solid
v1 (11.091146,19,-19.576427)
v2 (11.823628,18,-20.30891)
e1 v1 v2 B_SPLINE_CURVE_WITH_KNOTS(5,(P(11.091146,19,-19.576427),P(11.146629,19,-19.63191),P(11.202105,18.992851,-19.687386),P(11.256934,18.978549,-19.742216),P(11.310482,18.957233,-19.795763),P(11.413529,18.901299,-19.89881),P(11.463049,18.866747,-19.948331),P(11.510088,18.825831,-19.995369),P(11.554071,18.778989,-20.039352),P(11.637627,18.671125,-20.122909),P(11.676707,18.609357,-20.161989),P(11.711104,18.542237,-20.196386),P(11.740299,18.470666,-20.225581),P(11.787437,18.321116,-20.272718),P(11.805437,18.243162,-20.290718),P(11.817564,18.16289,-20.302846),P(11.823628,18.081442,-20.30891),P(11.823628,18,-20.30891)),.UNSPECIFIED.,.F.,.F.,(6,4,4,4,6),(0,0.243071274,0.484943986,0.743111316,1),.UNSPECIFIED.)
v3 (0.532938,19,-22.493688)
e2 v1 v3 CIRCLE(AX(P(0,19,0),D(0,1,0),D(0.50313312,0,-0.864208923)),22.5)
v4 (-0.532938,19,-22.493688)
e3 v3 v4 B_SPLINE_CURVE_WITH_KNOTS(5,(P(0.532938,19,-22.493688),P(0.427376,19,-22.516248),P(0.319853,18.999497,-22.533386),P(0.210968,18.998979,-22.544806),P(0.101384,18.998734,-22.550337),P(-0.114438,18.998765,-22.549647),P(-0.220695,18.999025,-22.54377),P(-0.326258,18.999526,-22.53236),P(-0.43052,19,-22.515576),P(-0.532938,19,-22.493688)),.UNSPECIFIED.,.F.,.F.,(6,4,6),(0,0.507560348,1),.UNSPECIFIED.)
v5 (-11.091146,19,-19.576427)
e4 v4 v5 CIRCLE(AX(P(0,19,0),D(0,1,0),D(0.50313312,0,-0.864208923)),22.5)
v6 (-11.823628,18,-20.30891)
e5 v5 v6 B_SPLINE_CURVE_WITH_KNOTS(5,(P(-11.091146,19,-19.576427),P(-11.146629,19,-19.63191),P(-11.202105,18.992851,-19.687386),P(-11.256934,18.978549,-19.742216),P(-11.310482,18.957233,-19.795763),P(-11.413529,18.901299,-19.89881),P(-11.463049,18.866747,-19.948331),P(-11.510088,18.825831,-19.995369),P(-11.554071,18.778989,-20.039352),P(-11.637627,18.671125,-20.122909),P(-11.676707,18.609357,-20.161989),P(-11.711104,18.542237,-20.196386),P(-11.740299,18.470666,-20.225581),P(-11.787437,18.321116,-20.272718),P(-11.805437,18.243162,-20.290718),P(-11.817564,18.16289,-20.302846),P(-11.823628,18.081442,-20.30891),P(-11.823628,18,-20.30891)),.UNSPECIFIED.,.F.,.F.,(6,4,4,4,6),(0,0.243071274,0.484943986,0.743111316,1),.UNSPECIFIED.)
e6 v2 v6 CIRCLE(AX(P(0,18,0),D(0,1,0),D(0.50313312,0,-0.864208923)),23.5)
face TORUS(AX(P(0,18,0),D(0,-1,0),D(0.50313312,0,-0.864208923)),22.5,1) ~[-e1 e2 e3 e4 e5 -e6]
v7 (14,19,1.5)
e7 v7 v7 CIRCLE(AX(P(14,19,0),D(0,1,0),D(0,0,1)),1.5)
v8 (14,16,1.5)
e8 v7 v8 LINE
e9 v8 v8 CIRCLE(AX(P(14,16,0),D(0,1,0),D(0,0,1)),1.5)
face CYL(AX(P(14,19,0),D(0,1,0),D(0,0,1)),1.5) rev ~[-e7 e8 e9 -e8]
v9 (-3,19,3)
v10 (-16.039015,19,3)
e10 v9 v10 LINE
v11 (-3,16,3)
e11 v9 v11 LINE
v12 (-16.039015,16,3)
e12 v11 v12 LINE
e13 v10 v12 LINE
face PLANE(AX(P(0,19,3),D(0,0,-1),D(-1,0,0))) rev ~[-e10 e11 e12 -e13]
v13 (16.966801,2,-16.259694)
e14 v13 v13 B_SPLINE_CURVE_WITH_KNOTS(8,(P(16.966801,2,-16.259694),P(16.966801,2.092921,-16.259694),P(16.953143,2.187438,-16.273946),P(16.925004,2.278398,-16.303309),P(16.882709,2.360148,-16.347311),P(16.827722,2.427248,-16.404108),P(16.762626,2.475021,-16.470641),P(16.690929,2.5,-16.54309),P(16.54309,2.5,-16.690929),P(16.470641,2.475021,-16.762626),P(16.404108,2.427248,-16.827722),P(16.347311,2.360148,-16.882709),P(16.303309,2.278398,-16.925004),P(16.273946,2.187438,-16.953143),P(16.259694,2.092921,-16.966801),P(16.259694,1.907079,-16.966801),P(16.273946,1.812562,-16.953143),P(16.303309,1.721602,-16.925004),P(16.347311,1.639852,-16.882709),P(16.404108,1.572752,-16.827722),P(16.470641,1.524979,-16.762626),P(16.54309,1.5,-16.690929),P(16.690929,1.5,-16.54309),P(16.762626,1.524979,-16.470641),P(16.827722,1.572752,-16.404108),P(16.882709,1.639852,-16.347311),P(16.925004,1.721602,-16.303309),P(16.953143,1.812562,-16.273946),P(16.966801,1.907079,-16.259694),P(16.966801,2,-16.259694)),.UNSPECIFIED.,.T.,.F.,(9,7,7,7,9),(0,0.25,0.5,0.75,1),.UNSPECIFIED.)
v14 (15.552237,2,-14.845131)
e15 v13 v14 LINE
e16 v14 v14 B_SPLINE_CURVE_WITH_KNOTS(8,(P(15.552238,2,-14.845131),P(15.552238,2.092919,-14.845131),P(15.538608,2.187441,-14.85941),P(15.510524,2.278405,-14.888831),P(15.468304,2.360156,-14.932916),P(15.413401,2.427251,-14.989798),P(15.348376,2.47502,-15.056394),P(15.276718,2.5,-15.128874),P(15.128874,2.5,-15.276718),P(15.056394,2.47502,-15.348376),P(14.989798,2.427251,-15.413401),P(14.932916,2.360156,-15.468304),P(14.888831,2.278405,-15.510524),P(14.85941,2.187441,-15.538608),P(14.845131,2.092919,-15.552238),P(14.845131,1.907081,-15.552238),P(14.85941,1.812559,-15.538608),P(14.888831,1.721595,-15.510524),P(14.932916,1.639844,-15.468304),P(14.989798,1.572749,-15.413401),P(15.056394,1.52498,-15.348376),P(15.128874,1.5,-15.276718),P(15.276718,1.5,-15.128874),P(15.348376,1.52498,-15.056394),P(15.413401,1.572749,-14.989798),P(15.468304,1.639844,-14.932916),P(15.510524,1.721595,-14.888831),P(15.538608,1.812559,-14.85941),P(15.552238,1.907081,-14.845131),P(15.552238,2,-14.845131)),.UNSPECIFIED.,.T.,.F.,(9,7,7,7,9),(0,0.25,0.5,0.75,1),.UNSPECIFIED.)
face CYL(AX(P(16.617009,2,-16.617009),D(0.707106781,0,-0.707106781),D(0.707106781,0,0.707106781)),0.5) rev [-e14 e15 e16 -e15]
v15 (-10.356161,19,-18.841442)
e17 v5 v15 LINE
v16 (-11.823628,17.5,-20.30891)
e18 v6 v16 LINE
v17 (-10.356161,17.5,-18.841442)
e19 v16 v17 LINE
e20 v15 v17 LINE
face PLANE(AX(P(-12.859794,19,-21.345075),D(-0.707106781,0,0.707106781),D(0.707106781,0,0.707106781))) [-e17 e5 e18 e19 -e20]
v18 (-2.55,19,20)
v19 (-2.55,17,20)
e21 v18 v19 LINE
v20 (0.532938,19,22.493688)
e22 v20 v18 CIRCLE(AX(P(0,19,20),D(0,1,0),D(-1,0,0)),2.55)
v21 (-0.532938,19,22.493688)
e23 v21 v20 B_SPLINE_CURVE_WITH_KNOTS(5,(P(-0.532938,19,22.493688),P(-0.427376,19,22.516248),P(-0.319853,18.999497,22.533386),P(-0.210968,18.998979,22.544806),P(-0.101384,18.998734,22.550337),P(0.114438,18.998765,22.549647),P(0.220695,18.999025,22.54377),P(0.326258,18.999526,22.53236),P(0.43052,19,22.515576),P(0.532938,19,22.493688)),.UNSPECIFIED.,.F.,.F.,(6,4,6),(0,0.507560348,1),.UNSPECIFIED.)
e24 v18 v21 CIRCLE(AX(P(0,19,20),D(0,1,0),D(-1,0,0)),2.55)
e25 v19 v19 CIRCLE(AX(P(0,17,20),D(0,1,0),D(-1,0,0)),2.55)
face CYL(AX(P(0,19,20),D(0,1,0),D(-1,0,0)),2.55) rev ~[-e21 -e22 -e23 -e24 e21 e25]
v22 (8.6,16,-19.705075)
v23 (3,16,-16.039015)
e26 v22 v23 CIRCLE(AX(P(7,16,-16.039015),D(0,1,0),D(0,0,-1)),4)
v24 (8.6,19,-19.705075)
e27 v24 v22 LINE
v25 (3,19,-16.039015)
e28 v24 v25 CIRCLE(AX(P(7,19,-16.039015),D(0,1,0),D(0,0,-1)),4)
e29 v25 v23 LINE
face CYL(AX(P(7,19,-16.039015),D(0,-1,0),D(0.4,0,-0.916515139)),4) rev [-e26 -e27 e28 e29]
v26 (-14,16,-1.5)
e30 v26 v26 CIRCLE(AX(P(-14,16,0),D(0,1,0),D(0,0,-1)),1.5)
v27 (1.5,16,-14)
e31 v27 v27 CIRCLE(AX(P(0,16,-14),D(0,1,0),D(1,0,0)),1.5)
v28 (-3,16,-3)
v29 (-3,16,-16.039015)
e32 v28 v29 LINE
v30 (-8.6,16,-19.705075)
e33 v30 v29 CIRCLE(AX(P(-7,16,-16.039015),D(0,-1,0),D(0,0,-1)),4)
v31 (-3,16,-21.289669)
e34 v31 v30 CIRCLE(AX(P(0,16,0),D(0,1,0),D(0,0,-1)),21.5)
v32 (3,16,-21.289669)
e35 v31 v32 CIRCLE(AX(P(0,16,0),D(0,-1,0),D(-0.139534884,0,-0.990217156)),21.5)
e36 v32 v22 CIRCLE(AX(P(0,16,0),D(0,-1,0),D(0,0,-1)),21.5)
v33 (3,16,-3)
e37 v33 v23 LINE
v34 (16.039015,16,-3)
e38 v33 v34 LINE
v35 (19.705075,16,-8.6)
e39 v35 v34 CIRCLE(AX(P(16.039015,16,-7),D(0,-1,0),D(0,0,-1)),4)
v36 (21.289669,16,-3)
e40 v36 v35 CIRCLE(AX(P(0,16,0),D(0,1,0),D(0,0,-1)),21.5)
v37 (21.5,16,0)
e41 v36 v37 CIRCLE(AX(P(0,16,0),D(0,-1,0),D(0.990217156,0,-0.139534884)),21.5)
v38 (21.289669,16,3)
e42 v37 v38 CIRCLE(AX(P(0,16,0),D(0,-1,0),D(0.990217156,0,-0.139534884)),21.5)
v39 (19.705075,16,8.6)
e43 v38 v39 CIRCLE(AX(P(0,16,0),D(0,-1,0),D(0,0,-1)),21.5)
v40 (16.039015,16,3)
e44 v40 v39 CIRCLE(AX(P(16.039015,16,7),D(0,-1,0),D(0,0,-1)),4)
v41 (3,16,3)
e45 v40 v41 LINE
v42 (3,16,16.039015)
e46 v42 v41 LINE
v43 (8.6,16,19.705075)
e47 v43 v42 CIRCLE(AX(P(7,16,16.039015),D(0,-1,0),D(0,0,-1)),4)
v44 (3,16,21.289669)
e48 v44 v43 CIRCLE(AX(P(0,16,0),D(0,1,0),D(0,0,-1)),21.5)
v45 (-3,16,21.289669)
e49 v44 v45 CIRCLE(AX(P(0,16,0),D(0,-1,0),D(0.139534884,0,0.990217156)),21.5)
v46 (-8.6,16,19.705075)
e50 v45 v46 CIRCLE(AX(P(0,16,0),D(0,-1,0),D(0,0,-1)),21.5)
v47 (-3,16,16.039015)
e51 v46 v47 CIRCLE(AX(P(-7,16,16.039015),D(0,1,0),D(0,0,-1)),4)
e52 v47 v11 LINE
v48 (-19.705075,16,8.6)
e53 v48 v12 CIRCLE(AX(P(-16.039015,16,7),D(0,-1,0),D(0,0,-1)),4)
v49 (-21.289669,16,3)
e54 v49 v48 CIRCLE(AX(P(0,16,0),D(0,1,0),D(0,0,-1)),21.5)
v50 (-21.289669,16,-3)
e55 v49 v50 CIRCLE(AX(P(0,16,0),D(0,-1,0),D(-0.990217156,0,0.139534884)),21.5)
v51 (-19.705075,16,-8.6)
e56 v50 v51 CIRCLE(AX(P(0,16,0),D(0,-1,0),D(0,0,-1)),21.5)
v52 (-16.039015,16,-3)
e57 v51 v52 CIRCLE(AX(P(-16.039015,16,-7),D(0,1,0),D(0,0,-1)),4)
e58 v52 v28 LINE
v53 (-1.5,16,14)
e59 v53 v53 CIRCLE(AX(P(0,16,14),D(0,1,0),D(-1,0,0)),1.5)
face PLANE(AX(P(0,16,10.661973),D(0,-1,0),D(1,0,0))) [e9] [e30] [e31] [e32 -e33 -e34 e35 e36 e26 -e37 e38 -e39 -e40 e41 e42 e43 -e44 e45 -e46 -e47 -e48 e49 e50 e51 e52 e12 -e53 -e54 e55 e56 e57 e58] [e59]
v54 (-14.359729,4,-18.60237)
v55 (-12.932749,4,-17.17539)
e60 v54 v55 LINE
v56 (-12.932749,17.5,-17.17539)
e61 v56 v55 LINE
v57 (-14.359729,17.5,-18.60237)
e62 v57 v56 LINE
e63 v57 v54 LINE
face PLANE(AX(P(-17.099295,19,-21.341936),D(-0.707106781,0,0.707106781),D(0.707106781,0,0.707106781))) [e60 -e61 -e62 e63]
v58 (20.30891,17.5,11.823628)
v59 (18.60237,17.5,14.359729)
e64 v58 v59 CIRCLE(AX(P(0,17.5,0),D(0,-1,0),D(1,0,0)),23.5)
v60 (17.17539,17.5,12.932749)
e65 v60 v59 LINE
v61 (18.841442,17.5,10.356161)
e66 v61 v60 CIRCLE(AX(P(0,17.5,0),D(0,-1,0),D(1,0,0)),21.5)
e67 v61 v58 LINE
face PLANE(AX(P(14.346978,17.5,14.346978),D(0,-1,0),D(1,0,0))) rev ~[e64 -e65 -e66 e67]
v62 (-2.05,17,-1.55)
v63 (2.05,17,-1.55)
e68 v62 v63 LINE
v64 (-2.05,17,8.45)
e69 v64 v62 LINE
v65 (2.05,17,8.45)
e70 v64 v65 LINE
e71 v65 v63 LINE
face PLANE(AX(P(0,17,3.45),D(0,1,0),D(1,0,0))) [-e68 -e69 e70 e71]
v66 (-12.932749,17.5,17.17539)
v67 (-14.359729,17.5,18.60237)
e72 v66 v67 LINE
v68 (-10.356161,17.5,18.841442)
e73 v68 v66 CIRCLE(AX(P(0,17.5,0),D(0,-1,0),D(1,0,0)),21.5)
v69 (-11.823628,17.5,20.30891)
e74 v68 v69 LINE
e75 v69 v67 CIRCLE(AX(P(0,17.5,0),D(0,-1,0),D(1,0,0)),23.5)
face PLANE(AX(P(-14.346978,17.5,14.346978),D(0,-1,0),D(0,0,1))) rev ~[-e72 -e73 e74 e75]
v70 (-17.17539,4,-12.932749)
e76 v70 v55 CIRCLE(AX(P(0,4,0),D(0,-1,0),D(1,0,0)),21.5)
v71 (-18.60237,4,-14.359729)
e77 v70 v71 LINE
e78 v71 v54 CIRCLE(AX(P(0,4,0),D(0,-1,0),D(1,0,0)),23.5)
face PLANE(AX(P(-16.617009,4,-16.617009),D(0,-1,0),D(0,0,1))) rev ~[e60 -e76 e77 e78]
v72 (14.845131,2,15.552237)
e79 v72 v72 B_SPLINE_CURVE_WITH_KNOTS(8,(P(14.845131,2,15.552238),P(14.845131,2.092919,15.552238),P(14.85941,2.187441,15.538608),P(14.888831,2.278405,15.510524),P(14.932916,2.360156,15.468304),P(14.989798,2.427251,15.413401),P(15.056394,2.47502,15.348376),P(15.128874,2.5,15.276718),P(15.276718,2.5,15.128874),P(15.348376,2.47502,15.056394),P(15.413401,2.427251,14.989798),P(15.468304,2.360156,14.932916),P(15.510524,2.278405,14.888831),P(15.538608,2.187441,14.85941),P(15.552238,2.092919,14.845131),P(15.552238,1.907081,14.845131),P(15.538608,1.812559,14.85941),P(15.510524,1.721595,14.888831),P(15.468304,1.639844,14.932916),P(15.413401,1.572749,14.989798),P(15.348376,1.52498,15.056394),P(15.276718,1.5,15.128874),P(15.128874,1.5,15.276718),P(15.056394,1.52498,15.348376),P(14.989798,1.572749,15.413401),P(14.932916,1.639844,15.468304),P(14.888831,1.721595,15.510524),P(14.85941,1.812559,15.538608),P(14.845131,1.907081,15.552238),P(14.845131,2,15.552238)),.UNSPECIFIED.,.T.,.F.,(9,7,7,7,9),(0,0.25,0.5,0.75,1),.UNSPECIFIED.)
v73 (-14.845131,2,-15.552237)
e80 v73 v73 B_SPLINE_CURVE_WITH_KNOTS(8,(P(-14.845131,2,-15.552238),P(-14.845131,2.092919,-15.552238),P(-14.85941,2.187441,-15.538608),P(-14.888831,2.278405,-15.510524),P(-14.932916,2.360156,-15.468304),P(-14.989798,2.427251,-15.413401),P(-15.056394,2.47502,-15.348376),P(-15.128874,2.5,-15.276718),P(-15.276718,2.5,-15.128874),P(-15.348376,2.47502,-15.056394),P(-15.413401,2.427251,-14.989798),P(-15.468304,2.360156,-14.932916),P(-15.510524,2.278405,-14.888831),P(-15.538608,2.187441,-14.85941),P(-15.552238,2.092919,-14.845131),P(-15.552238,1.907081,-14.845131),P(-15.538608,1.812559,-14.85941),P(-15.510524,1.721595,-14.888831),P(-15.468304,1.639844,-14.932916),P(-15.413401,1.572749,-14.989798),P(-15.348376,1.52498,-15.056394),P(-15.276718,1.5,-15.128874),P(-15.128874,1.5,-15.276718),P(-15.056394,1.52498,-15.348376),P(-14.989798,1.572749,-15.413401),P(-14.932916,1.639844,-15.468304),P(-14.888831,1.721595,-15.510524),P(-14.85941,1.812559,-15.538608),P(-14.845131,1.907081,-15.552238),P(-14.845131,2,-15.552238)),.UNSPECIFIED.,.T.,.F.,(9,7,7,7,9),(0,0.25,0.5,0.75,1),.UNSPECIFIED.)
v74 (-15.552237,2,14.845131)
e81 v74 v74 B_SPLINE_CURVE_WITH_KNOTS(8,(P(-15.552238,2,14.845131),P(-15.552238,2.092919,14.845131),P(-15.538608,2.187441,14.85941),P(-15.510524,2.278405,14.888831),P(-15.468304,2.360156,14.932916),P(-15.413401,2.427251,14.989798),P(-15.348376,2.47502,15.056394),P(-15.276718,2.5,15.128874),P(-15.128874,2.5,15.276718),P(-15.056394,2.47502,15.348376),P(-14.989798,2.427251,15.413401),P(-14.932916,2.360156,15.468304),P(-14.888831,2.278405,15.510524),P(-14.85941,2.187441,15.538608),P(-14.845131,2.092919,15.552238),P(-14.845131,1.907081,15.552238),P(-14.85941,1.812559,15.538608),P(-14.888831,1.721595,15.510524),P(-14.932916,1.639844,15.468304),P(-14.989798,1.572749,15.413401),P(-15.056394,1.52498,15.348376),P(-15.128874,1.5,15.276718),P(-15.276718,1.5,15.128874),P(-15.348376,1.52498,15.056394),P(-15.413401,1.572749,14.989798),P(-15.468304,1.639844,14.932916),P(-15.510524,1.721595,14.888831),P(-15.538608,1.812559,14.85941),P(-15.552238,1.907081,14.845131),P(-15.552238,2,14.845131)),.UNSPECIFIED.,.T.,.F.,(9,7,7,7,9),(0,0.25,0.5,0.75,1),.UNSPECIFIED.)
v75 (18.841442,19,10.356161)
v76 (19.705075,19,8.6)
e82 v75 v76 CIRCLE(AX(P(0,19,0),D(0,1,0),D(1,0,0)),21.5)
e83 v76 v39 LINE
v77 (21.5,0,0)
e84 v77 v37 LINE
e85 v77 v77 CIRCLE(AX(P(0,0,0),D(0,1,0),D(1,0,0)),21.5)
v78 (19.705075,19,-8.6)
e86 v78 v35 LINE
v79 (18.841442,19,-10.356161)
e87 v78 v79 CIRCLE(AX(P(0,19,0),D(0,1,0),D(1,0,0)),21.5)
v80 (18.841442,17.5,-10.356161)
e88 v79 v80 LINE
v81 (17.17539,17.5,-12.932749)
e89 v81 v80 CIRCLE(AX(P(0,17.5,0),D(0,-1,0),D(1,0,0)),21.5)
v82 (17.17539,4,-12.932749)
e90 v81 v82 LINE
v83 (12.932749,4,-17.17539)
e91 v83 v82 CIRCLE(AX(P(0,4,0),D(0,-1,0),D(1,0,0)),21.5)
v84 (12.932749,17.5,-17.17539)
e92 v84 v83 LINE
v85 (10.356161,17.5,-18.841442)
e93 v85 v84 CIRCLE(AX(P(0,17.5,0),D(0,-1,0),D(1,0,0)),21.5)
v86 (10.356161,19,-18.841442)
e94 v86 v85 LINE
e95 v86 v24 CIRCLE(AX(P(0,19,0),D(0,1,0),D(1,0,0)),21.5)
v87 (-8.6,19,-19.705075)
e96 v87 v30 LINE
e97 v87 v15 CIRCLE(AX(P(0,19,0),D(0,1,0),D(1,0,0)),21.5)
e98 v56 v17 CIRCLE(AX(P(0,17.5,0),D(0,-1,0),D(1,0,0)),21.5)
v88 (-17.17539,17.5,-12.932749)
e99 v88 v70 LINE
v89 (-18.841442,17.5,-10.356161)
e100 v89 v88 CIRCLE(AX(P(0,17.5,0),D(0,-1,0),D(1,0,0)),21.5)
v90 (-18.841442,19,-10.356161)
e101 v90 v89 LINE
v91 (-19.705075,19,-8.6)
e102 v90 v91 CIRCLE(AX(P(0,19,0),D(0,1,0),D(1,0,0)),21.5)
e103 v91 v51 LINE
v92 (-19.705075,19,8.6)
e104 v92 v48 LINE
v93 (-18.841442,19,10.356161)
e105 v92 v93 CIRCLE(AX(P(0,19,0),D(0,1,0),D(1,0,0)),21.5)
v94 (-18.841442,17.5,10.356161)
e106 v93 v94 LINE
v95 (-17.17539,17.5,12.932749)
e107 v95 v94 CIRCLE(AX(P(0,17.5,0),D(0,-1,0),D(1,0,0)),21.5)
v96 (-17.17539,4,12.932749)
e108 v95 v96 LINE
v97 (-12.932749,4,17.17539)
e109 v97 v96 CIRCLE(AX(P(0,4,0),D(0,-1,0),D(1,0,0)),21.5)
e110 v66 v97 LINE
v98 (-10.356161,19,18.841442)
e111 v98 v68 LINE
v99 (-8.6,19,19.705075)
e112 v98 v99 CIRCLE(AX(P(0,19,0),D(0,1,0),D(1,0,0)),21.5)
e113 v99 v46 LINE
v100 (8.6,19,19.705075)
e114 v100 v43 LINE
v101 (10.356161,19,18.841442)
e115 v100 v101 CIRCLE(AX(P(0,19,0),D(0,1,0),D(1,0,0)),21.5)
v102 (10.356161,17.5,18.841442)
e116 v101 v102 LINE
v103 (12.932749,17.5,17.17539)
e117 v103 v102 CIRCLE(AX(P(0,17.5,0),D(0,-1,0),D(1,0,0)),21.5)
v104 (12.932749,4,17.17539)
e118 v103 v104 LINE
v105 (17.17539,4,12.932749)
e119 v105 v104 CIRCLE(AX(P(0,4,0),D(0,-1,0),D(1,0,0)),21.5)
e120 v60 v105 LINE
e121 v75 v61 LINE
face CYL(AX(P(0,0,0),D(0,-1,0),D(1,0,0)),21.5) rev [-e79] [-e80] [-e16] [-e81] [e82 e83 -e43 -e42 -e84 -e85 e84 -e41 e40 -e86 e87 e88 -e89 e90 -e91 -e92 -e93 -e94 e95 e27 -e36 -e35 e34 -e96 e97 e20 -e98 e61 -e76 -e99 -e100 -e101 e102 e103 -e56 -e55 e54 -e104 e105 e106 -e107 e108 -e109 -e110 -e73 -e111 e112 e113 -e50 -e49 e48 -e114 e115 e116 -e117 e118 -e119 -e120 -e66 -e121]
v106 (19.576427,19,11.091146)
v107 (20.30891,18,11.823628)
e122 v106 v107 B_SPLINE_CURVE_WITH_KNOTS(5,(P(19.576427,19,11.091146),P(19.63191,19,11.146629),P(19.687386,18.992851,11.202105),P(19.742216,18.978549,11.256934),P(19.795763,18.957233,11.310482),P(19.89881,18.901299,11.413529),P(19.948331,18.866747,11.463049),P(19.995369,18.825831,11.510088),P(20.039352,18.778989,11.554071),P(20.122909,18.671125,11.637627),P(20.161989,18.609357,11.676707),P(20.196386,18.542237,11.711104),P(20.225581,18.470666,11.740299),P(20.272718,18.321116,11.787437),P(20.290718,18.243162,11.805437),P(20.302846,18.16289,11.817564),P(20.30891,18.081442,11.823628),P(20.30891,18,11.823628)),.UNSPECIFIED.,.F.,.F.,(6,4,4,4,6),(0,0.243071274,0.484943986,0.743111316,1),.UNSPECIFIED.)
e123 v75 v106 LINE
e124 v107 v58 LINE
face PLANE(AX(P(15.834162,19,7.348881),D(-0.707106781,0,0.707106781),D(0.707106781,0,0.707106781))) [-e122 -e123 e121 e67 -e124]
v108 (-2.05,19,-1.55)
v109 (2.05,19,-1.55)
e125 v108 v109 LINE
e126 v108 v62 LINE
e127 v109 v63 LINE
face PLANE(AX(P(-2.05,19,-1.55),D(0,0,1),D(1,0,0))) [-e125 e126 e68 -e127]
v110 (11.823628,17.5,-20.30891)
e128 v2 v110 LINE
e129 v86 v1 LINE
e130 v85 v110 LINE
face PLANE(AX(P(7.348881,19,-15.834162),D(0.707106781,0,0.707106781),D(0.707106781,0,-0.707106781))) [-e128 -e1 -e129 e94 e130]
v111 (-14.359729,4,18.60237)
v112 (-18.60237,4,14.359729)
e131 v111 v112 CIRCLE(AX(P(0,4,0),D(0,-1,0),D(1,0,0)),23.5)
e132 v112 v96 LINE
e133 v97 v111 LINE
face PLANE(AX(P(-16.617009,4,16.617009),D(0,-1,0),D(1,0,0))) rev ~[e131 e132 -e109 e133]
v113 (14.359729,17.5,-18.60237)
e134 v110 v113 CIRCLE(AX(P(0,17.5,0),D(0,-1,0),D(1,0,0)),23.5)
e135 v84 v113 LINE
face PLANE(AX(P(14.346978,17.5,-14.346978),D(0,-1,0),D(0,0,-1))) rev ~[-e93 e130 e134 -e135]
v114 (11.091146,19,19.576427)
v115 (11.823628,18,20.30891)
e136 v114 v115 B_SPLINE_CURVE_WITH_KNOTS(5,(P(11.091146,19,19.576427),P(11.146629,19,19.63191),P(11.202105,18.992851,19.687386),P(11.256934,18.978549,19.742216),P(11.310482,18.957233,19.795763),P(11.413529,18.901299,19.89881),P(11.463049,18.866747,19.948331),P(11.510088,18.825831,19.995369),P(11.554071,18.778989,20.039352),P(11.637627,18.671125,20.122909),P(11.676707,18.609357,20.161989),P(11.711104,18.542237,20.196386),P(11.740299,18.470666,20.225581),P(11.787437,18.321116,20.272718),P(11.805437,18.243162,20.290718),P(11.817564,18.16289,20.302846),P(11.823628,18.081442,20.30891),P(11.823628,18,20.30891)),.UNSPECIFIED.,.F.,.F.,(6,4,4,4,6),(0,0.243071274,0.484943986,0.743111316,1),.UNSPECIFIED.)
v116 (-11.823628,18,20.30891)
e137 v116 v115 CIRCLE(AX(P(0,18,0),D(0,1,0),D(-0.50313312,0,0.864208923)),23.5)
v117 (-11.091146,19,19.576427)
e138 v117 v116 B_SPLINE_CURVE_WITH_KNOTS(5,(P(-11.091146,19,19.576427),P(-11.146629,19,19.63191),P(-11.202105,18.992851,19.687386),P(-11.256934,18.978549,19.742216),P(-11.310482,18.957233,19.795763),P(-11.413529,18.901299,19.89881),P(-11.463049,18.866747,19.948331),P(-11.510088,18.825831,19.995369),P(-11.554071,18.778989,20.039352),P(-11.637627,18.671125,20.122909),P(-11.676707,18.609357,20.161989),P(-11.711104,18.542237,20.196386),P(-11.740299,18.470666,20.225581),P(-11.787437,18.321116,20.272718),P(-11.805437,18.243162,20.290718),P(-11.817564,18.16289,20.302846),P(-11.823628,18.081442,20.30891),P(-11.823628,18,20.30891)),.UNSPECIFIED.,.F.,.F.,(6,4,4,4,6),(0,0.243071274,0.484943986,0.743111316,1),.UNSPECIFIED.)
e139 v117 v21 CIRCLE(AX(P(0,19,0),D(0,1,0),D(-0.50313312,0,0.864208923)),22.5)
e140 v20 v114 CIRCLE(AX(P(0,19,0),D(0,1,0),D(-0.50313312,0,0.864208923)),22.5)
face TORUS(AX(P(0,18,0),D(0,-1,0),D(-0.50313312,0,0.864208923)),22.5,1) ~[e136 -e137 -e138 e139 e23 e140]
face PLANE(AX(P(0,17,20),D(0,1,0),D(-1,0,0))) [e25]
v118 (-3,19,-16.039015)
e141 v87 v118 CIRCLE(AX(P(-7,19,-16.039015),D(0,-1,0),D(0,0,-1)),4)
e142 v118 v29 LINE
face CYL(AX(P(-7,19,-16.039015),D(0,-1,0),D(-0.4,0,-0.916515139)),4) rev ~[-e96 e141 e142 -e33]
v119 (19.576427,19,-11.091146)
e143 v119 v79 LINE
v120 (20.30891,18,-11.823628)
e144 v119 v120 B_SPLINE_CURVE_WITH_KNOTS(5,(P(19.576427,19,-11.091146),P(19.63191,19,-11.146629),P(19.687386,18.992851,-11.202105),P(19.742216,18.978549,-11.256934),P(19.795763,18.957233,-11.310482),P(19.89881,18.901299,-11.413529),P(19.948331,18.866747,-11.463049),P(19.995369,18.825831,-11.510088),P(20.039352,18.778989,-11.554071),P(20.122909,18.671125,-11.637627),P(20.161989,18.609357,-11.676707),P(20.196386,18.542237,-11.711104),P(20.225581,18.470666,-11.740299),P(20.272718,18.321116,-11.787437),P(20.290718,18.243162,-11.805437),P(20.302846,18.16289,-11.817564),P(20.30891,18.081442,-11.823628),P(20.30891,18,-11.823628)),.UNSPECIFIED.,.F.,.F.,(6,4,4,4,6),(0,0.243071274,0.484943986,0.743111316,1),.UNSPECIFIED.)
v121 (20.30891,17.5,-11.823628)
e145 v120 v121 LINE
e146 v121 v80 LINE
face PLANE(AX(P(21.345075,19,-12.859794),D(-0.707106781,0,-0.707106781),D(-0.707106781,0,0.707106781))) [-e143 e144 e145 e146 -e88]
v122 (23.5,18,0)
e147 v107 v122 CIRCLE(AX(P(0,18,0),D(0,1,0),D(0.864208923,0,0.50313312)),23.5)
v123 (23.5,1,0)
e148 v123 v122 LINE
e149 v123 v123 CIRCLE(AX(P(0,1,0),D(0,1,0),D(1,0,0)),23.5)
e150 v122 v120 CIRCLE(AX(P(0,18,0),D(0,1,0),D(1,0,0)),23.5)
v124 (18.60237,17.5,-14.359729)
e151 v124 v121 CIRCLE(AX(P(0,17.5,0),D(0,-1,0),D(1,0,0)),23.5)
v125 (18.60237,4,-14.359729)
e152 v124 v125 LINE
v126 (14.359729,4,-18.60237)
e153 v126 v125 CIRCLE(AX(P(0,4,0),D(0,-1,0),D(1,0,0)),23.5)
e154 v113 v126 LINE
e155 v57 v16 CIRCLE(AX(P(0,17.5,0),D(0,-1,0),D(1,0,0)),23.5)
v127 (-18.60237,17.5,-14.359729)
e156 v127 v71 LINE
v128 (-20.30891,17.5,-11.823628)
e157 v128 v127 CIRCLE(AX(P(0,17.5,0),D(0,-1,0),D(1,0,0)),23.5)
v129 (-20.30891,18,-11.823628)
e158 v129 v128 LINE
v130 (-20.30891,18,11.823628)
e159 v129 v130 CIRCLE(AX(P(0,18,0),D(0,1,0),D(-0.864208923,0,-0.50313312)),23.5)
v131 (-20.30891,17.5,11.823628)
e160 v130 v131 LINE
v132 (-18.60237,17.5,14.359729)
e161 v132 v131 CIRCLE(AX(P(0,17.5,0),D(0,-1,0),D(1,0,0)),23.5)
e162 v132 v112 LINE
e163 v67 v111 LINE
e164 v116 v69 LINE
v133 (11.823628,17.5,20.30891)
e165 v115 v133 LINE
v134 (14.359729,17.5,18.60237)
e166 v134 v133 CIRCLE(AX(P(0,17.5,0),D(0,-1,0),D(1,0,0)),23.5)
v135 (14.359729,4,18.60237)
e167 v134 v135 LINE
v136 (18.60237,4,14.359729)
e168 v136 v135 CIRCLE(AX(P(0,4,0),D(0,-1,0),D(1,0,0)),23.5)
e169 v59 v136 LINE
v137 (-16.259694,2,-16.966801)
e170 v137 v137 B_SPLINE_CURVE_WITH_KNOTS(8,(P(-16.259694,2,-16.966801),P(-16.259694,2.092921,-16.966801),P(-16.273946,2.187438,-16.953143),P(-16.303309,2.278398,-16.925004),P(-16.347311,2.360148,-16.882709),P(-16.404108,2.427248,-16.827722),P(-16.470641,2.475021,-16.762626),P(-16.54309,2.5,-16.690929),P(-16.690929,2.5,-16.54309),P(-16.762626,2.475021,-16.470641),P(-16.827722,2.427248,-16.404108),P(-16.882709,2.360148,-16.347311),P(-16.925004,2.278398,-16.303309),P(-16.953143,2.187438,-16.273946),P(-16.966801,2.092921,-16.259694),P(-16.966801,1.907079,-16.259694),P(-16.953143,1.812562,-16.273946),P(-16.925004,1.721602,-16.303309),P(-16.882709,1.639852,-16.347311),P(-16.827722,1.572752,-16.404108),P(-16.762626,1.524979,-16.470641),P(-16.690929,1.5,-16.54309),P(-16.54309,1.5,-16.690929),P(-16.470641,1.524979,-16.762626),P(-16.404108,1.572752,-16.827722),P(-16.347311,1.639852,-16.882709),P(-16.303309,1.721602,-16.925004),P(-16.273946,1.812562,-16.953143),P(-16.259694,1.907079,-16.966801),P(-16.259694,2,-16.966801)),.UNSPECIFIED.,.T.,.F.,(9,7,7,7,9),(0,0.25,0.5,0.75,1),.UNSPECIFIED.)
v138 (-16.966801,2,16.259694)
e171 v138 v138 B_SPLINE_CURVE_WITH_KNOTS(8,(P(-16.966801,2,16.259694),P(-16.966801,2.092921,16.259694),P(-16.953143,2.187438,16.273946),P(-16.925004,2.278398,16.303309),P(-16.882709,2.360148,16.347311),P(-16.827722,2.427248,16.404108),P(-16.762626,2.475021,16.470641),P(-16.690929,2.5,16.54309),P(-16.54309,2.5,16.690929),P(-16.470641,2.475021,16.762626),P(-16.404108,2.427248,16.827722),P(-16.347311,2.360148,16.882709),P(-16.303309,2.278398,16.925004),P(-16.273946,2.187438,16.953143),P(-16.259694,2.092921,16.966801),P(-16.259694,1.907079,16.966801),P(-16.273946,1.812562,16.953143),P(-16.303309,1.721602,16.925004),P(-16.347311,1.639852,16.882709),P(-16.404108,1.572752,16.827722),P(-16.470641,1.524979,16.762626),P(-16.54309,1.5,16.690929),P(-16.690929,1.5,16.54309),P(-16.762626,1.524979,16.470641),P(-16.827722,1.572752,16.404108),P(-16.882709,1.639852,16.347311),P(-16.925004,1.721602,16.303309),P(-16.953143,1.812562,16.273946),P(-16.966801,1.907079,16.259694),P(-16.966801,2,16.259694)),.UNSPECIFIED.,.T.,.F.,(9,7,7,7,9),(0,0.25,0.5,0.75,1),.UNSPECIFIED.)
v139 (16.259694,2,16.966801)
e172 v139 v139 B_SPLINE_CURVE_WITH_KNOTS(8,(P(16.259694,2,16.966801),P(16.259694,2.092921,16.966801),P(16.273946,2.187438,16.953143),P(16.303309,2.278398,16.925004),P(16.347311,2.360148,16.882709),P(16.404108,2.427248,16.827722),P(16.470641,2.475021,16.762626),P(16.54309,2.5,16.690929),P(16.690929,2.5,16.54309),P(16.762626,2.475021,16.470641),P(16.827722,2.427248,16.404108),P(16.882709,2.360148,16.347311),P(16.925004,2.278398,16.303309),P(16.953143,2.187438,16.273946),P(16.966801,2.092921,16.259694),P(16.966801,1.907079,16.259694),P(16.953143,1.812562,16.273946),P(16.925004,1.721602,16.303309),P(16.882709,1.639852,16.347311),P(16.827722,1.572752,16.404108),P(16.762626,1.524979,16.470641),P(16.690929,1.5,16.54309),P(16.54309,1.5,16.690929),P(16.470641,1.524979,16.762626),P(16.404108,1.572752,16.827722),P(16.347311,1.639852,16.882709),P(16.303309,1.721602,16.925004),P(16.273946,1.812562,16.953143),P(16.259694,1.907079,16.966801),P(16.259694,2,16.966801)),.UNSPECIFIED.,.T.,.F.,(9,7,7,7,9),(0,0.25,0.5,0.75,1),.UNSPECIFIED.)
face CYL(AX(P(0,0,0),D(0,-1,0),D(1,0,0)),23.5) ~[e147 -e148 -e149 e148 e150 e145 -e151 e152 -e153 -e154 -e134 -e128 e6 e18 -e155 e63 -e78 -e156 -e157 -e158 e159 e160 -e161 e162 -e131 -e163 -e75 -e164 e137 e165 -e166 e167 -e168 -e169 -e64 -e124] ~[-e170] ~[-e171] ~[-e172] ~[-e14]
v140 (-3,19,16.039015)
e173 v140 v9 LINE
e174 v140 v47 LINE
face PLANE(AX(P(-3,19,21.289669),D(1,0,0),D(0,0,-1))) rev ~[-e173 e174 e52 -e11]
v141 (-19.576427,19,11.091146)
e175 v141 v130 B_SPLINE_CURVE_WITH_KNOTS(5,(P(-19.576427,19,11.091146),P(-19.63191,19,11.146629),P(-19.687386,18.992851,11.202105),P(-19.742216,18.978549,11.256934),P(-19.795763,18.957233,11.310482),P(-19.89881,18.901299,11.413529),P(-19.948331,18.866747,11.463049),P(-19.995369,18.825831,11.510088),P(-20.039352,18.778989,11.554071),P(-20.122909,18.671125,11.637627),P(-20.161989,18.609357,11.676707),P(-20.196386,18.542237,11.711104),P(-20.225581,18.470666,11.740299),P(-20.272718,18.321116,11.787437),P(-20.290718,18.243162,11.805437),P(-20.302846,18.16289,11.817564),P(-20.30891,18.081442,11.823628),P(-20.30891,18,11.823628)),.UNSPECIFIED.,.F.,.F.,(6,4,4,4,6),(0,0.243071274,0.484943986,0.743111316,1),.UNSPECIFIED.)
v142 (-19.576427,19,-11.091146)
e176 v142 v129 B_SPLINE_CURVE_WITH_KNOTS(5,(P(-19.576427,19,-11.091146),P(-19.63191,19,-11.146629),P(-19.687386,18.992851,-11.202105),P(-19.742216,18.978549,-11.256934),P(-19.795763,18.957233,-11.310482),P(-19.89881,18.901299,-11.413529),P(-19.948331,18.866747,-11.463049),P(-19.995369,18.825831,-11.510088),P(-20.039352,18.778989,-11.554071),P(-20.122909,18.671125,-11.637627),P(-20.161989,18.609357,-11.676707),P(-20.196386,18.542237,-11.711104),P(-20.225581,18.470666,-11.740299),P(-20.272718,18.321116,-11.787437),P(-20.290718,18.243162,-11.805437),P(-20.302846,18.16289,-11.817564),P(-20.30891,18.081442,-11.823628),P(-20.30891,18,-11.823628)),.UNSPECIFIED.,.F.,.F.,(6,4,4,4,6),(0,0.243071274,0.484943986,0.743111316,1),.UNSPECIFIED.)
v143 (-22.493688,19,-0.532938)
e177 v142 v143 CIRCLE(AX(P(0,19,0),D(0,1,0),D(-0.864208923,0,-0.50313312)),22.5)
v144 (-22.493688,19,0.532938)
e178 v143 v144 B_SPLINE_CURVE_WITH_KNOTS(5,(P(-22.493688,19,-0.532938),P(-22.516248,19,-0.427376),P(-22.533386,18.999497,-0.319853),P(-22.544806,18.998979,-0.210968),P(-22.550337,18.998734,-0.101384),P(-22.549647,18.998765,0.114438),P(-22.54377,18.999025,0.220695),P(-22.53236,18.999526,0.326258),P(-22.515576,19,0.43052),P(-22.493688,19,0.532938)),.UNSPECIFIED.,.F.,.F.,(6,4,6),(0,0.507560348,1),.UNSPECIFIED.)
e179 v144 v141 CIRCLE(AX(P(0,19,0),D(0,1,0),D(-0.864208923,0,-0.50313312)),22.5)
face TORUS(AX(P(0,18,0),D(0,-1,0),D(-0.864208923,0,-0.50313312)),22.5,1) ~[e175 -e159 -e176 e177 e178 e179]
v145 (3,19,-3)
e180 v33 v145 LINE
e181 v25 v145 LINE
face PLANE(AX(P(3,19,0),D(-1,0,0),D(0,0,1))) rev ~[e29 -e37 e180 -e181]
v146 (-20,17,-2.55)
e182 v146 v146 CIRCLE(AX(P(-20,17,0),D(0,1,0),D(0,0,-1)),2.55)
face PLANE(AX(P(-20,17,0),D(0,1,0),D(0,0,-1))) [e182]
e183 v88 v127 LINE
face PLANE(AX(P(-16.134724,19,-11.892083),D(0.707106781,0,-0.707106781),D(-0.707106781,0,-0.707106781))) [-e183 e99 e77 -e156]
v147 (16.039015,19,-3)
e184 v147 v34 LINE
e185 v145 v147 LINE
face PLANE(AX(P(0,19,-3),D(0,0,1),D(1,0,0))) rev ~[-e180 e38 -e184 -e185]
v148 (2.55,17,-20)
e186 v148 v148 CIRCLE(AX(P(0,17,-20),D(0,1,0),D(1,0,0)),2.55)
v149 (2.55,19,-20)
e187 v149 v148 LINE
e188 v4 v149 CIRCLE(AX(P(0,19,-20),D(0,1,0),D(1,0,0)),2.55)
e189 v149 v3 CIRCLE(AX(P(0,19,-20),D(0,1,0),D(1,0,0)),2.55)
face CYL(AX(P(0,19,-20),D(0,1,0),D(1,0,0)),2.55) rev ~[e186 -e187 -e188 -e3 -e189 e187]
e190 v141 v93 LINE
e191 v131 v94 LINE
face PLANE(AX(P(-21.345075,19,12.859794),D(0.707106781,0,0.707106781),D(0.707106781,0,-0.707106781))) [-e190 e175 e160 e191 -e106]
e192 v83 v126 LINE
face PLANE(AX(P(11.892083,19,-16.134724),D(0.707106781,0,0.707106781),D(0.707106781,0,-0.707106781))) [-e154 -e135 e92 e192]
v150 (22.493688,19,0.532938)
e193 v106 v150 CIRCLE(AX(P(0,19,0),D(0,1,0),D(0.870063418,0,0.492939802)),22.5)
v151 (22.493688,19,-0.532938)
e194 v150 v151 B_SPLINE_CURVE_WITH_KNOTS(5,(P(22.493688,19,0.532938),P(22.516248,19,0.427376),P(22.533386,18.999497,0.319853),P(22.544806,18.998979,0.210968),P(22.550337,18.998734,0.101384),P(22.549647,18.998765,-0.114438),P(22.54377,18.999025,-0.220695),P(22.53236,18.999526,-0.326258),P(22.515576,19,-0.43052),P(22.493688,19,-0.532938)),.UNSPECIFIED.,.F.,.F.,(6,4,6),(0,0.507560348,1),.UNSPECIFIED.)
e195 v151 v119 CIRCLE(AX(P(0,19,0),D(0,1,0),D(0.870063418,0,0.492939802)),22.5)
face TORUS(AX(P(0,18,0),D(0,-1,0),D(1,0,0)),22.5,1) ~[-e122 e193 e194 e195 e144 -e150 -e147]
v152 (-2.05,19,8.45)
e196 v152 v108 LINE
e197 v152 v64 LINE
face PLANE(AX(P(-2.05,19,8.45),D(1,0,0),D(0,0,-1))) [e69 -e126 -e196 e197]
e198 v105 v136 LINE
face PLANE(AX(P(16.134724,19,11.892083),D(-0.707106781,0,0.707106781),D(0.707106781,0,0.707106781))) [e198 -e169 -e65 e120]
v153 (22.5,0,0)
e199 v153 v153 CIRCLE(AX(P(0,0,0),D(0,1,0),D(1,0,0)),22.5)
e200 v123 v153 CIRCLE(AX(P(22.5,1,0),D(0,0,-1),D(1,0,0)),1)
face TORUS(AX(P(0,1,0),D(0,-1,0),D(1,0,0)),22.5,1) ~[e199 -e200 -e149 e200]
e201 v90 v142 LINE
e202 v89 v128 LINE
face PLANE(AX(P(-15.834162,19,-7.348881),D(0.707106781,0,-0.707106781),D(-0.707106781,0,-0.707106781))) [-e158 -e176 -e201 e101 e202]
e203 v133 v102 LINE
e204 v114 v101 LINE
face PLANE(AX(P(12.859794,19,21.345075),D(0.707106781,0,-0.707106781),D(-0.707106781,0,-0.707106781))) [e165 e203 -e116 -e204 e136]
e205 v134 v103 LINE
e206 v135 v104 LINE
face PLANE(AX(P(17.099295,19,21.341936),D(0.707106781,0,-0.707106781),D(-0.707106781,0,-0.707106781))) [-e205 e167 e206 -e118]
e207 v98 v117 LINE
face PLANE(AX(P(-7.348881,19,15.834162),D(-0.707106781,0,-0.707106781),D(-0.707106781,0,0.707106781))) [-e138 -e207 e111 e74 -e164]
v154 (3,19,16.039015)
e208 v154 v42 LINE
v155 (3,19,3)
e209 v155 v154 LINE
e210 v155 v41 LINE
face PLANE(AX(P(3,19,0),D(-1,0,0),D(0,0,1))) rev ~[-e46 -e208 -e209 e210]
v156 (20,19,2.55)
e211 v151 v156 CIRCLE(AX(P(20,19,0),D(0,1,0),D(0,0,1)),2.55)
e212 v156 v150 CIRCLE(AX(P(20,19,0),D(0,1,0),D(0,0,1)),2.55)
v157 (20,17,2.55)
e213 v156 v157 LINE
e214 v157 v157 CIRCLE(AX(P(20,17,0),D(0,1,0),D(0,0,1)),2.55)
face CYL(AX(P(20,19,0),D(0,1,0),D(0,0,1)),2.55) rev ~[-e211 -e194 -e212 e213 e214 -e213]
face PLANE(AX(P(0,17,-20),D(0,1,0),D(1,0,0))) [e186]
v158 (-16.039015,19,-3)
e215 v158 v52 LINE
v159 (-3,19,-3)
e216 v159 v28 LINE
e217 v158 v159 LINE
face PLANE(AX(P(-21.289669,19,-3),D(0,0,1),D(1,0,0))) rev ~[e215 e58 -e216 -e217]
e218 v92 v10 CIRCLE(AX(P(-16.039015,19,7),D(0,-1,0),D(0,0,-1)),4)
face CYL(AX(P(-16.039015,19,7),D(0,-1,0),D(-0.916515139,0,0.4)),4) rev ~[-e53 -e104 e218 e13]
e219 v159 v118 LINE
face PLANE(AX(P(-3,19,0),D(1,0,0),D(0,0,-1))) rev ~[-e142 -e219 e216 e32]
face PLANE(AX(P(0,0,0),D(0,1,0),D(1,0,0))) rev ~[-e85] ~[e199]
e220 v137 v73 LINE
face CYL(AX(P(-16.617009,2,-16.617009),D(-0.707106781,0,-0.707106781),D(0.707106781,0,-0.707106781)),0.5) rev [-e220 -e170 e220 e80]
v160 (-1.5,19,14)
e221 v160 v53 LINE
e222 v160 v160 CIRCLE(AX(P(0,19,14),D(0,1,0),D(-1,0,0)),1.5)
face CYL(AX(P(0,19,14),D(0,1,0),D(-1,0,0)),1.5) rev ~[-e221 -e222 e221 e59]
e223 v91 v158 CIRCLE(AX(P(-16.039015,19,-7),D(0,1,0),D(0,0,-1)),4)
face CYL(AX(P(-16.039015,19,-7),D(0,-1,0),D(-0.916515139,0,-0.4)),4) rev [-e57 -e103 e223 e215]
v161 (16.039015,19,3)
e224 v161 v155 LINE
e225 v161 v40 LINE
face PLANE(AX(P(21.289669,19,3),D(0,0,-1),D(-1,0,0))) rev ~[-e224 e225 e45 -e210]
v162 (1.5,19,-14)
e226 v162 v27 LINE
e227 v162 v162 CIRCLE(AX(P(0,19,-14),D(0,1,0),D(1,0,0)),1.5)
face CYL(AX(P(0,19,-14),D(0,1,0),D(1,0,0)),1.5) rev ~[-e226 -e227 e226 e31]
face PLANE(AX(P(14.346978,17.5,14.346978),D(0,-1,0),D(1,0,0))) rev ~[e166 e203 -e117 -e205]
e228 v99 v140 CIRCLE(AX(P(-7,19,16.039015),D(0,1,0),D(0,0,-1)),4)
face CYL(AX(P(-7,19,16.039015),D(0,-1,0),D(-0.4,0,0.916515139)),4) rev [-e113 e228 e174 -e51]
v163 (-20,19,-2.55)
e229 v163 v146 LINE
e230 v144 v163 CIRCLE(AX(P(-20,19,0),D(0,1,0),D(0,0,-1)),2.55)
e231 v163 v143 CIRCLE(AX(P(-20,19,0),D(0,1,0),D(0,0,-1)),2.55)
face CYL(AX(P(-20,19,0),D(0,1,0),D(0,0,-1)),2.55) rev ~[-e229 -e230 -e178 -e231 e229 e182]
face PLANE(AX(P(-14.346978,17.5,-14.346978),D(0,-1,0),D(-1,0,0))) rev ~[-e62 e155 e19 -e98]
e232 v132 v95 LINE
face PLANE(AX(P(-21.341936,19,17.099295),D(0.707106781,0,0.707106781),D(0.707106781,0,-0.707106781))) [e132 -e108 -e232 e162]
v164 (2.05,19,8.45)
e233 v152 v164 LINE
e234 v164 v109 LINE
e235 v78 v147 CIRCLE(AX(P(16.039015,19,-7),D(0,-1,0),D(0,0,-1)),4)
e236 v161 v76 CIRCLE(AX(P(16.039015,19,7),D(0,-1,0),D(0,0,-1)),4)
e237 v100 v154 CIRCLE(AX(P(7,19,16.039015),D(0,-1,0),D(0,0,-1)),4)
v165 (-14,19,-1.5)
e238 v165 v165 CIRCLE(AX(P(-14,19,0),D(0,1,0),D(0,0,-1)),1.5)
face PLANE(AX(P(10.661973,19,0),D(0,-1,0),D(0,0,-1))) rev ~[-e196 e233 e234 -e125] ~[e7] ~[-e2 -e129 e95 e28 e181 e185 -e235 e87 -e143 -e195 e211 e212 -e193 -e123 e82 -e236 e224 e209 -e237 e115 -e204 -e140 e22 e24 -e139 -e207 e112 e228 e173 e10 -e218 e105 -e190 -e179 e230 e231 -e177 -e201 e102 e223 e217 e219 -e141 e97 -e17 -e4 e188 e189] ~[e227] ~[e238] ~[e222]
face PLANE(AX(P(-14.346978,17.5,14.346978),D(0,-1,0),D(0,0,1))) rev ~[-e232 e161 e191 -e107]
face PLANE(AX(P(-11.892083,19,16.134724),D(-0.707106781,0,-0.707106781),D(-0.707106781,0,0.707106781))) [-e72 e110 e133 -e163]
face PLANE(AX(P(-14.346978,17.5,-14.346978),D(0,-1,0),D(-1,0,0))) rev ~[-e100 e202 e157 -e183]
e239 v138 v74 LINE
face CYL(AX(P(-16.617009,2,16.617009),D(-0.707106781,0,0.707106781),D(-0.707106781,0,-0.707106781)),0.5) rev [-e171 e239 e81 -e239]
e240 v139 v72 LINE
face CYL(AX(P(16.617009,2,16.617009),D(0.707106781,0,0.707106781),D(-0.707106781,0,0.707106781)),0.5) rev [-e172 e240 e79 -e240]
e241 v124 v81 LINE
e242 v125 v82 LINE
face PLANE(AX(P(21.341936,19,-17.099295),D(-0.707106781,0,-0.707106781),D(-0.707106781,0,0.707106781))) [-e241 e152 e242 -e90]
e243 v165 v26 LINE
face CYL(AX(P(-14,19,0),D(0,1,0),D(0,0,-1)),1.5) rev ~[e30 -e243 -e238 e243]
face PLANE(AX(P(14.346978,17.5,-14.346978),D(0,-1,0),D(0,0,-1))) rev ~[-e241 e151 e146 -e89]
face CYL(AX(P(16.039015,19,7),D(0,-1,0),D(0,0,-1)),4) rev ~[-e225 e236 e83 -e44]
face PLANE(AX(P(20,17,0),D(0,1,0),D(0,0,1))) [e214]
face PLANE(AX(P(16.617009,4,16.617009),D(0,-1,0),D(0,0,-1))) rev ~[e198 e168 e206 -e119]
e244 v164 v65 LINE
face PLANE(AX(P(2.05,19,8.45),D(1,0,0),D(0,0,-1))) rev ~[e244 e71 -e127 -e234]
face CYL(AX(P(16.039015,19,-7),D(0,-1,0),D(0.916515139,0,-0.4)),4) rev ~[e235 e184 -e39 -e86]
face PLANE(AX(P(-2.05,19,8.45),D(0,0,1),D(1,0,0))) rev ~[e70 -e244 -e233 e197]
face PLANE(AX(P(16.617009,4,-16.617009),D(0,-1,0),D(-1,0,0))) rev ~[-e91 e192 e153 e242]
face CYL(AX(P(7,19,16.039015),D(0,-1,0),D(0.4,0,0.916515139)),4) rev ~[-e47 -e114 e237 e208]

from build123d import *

# Parameters (mm, degrees)
SKETCH5_R           = 23.5
SKETCH5_R_2         = 21.5
BOSS_EXTRUDE3_DEPTH = 19
SKETCH6_R           = 1.5
BOSS_EXTRUDE4_DEPTH = 3
CIRPATTERN1_COUNT   = 4
FILLET1_R           = 4
CUT_EXTRUDE1_DEPTH  = 15
CIRPATTERN2_COUNT   = 4
CUT_EXTRUDE2_DEPTH  = 1.5
CIRPATTERN3_COUNT   = 4
FILLET2_R           = 1
FILLET3_R           = 1
CUT_EXTRUDE3_START  = -0.192276
SKETCH9_R           = 0.5
CUT_EXTRUDE3_DEPTH  = 2.005815
CIRPATTERN4_COUNT   = 4
SKETCH10_R          = 2.55
CUT_EXTRUDE4_DEPTH  = 2
CIRPATTERN5_COUNT   = 4
SKETCH11_W          = 4.1
SKETCH11_H          = 10
CUT_EXTRUDE5_DEPTH  = 2


with BuildPart() as part:
    # Sketch5 → Boss-Extrude3 (new body)
    with BuildSketch(Plane(origin=(0, 0, 0), x_dir=(1, 0, 0), z_dir=(0, 1, 0))):
        Circle(SKETCH5_R)
        Circle(SKETCH5_R_2, mode=Mode.SUBTRACT)
    extrude(amount=BOSS_EXTRUDE3_DEPTH)

    # Sketch6 → Boss-Extrude4 (add)
    with BuildSketch(Plane(origin=(0, 19, 0), x_dir=(1, 0, 0), z_dir=(0, 1, 0))):
        with BuildLine():
            Line((-3, 0), (-3, 21.289668856))
            ThreePointArc((-3, 21.289668856), (0, 21.5), (3, 21.289668856))
            Line((3, 21.289668856), (3, 0))
            Line((3, 0), (-3, 0))
        make_face()
        with Locations((0, 14)):
            Circle(SKETCH6_R, mode=Mode.SUBTRACT)
    boss_extrude4 = extrude(amount=-BOSS_EXTRUDE4_DEPTH)

    # CirPattern1: Boss-Extrude4 ×4 about axis
    cirpattern1_axis = Axis((0, 0, 0), (0, 1, 0))
    for i in range(1, CIRPATTERN1_COUNT):
        add(boss_extrude4.rotate(cirpattern1_axis, i * 360 / CIRPATTERN1_COUNT))

    # Fillet1
    fillet1_edges = [part.edges().sort_by_distance(p)[0] for p in [
        (-3, 17.5, -21.289668856),
        (3, 17.5, -21.289668856),
        (-21.289668856, 17.5, -3),
        (-21.289668856, 17.5, 3),
        (3, 17.5, 21.289668856),
        (-3, 17.5, 21.289668856),
        (21.289668856, 17.5, -3),
        (21.289668856, 17.5, 3),
    ]]
    fillet(fillet1_edges, radius=FILLET1_R)

    # Sketch7 → Cut-Extrude1 (cut)
    with BuildSketch(Plane(origin=(0, 19, 0), x_dir=(1, 0, 0), z_dir=(0, 1, 0))):
        Polygon((21.341935675, 17.099294988), (16.134723728, 11.892083041), (11.892083041, 16.134723728), (17.099294988, 21.341935675), align=None)
    cut_extrude1 = extrude(amount=-CUT_EXTRUDE1_DEPTH, mode=Mode.SUBTRACT)

    # CirPattern2: Cut-Extrude1 ×4 about axis
    cirpattern2_axis = Axis((0, 0, 0), (0, 1, 0))
    for i in range(1, CIRPATTERN2_COUNT):
        add(cut_extrude1.rotate(cirpattern2_axis, i * 360 / CIRPATTERN2_COUNT), mode=Mode.SUBTRACT)

    # Sketch8 → Cut-Extrude2 (cut)
    with BuildSketch(Plane(origin=(0, 19, 0), x_dir=(1, 0, 0), z_dir=(0, 1, 0))):
        Polygon((-12.859793573, 21.345074947), (-7.348880887, 15.834162262), (-15.834162262, 7.348880887), (-21.345074947, 12.859793573), align=None)
    cut_extrude2 = extrude(amount=-CUT_EXTRUDE2_DEPTH, mode=Mode.SUBTRACT)

    # CirPattern3: Cut-Extrude2 ×4 about axis
    cirpattern3_axis = Axis((0, 0, 0), (0, 1, 0))
    for i in range(1, CIRPATTERN3_COUNT):
        add(cut_extrude2.rotate(cirpattern3_axis, i * 360 / CIRPATTERN3_COUNT), mode=Mode.SUBTRACT)

    # Fillet2
    fillet2_edges = [part.edges().sort_by_distance(p)[0] for p in [
        (-23.5, 19, 0),
        (0, 19, -23.5),
        (22.688205944, 19, -6.123341492),
        (0, 19, 23.5),
    ]]
    fillet(fillet2_edges, radius=FILLET2_R)

    # Fillet3
    fillet3_edges = [part.edges().sort_by_distance(p)[0] for p in [
        (-23.5, 0, 0),
    ]]
    fillet(fillet3_edges, radius=FILLET3_R)

    # Sketch9 → Cut-Extrude3 (cut)
    with BuildSketch(Plane(origin=(-16.481049724, 0, 16.481049724), x_dir=(-0.707106781, 0, -0.707106781), z_dir=(0.707106781, 0, -0.707106781)).offset(CUT_EXTRUDE3_START)):
        with Locations((0, 2)):
            Circle(SKETCH9_R)
    cut_extrude3 = extrude(amount=CUT_EXTRUDE3_DEPTH, mode=Mode.SUBTRACT)

    # CirPattern4: Cut-Extrude3 ×4 about axis
    cirpattern4_axis = Axis((0, 19, 0), (0, -1, 0))
    for i in range(1, CIRPATTERN4_COUNT):
        add(cut_extrude3.rotate(cirpattern4_axis, i * 360 / CIRPATTERN4_COUNT), mode=Mode.SUBTRACT)

    # Sketch10 → Cut-Extrude4 (cut)
    with BuildSketch(Plane(origin=(0, 19, 0), x_dir=(1, 0, 0), z_dir=(0, 1, 0))):
        with Locations((0, 20)):
            Circle(SKETCH10_R)
    cut_extrude4 = extrude(amount=-CUT_EXTRUDE4_DEPTH, mode=Mode.SUBTRACT)

    # CirPattern5: Cut-Extrude4 ×4 about axis
    cirpattern5_axis = Axis((0, 0, 0), (0, 1, 0))
    for i in range(1, CIRPATTERN5_COUNT):
        add(cut_extrude4.rotate(cirpattern5_axis, i * 360 / CIRPATTERN5_COUNT), mode=Mode.SUBTRACT)

    # Sketch11 → Cut-Extrude5 (cut)
    with BuildSketch(Plane(origin=(0, 19, 0), x_dir=(1, 0, 0), z_dir=(0, 1, 0))):
        with Locations((0, -3.45)):
            Rectangle(SKETCH11_W, SKETCH11_H)
    extrude(amount=-CUT_EXTRUDE5_DEPTH, mode=Mode.SUBTRACT)


solid = part.part
